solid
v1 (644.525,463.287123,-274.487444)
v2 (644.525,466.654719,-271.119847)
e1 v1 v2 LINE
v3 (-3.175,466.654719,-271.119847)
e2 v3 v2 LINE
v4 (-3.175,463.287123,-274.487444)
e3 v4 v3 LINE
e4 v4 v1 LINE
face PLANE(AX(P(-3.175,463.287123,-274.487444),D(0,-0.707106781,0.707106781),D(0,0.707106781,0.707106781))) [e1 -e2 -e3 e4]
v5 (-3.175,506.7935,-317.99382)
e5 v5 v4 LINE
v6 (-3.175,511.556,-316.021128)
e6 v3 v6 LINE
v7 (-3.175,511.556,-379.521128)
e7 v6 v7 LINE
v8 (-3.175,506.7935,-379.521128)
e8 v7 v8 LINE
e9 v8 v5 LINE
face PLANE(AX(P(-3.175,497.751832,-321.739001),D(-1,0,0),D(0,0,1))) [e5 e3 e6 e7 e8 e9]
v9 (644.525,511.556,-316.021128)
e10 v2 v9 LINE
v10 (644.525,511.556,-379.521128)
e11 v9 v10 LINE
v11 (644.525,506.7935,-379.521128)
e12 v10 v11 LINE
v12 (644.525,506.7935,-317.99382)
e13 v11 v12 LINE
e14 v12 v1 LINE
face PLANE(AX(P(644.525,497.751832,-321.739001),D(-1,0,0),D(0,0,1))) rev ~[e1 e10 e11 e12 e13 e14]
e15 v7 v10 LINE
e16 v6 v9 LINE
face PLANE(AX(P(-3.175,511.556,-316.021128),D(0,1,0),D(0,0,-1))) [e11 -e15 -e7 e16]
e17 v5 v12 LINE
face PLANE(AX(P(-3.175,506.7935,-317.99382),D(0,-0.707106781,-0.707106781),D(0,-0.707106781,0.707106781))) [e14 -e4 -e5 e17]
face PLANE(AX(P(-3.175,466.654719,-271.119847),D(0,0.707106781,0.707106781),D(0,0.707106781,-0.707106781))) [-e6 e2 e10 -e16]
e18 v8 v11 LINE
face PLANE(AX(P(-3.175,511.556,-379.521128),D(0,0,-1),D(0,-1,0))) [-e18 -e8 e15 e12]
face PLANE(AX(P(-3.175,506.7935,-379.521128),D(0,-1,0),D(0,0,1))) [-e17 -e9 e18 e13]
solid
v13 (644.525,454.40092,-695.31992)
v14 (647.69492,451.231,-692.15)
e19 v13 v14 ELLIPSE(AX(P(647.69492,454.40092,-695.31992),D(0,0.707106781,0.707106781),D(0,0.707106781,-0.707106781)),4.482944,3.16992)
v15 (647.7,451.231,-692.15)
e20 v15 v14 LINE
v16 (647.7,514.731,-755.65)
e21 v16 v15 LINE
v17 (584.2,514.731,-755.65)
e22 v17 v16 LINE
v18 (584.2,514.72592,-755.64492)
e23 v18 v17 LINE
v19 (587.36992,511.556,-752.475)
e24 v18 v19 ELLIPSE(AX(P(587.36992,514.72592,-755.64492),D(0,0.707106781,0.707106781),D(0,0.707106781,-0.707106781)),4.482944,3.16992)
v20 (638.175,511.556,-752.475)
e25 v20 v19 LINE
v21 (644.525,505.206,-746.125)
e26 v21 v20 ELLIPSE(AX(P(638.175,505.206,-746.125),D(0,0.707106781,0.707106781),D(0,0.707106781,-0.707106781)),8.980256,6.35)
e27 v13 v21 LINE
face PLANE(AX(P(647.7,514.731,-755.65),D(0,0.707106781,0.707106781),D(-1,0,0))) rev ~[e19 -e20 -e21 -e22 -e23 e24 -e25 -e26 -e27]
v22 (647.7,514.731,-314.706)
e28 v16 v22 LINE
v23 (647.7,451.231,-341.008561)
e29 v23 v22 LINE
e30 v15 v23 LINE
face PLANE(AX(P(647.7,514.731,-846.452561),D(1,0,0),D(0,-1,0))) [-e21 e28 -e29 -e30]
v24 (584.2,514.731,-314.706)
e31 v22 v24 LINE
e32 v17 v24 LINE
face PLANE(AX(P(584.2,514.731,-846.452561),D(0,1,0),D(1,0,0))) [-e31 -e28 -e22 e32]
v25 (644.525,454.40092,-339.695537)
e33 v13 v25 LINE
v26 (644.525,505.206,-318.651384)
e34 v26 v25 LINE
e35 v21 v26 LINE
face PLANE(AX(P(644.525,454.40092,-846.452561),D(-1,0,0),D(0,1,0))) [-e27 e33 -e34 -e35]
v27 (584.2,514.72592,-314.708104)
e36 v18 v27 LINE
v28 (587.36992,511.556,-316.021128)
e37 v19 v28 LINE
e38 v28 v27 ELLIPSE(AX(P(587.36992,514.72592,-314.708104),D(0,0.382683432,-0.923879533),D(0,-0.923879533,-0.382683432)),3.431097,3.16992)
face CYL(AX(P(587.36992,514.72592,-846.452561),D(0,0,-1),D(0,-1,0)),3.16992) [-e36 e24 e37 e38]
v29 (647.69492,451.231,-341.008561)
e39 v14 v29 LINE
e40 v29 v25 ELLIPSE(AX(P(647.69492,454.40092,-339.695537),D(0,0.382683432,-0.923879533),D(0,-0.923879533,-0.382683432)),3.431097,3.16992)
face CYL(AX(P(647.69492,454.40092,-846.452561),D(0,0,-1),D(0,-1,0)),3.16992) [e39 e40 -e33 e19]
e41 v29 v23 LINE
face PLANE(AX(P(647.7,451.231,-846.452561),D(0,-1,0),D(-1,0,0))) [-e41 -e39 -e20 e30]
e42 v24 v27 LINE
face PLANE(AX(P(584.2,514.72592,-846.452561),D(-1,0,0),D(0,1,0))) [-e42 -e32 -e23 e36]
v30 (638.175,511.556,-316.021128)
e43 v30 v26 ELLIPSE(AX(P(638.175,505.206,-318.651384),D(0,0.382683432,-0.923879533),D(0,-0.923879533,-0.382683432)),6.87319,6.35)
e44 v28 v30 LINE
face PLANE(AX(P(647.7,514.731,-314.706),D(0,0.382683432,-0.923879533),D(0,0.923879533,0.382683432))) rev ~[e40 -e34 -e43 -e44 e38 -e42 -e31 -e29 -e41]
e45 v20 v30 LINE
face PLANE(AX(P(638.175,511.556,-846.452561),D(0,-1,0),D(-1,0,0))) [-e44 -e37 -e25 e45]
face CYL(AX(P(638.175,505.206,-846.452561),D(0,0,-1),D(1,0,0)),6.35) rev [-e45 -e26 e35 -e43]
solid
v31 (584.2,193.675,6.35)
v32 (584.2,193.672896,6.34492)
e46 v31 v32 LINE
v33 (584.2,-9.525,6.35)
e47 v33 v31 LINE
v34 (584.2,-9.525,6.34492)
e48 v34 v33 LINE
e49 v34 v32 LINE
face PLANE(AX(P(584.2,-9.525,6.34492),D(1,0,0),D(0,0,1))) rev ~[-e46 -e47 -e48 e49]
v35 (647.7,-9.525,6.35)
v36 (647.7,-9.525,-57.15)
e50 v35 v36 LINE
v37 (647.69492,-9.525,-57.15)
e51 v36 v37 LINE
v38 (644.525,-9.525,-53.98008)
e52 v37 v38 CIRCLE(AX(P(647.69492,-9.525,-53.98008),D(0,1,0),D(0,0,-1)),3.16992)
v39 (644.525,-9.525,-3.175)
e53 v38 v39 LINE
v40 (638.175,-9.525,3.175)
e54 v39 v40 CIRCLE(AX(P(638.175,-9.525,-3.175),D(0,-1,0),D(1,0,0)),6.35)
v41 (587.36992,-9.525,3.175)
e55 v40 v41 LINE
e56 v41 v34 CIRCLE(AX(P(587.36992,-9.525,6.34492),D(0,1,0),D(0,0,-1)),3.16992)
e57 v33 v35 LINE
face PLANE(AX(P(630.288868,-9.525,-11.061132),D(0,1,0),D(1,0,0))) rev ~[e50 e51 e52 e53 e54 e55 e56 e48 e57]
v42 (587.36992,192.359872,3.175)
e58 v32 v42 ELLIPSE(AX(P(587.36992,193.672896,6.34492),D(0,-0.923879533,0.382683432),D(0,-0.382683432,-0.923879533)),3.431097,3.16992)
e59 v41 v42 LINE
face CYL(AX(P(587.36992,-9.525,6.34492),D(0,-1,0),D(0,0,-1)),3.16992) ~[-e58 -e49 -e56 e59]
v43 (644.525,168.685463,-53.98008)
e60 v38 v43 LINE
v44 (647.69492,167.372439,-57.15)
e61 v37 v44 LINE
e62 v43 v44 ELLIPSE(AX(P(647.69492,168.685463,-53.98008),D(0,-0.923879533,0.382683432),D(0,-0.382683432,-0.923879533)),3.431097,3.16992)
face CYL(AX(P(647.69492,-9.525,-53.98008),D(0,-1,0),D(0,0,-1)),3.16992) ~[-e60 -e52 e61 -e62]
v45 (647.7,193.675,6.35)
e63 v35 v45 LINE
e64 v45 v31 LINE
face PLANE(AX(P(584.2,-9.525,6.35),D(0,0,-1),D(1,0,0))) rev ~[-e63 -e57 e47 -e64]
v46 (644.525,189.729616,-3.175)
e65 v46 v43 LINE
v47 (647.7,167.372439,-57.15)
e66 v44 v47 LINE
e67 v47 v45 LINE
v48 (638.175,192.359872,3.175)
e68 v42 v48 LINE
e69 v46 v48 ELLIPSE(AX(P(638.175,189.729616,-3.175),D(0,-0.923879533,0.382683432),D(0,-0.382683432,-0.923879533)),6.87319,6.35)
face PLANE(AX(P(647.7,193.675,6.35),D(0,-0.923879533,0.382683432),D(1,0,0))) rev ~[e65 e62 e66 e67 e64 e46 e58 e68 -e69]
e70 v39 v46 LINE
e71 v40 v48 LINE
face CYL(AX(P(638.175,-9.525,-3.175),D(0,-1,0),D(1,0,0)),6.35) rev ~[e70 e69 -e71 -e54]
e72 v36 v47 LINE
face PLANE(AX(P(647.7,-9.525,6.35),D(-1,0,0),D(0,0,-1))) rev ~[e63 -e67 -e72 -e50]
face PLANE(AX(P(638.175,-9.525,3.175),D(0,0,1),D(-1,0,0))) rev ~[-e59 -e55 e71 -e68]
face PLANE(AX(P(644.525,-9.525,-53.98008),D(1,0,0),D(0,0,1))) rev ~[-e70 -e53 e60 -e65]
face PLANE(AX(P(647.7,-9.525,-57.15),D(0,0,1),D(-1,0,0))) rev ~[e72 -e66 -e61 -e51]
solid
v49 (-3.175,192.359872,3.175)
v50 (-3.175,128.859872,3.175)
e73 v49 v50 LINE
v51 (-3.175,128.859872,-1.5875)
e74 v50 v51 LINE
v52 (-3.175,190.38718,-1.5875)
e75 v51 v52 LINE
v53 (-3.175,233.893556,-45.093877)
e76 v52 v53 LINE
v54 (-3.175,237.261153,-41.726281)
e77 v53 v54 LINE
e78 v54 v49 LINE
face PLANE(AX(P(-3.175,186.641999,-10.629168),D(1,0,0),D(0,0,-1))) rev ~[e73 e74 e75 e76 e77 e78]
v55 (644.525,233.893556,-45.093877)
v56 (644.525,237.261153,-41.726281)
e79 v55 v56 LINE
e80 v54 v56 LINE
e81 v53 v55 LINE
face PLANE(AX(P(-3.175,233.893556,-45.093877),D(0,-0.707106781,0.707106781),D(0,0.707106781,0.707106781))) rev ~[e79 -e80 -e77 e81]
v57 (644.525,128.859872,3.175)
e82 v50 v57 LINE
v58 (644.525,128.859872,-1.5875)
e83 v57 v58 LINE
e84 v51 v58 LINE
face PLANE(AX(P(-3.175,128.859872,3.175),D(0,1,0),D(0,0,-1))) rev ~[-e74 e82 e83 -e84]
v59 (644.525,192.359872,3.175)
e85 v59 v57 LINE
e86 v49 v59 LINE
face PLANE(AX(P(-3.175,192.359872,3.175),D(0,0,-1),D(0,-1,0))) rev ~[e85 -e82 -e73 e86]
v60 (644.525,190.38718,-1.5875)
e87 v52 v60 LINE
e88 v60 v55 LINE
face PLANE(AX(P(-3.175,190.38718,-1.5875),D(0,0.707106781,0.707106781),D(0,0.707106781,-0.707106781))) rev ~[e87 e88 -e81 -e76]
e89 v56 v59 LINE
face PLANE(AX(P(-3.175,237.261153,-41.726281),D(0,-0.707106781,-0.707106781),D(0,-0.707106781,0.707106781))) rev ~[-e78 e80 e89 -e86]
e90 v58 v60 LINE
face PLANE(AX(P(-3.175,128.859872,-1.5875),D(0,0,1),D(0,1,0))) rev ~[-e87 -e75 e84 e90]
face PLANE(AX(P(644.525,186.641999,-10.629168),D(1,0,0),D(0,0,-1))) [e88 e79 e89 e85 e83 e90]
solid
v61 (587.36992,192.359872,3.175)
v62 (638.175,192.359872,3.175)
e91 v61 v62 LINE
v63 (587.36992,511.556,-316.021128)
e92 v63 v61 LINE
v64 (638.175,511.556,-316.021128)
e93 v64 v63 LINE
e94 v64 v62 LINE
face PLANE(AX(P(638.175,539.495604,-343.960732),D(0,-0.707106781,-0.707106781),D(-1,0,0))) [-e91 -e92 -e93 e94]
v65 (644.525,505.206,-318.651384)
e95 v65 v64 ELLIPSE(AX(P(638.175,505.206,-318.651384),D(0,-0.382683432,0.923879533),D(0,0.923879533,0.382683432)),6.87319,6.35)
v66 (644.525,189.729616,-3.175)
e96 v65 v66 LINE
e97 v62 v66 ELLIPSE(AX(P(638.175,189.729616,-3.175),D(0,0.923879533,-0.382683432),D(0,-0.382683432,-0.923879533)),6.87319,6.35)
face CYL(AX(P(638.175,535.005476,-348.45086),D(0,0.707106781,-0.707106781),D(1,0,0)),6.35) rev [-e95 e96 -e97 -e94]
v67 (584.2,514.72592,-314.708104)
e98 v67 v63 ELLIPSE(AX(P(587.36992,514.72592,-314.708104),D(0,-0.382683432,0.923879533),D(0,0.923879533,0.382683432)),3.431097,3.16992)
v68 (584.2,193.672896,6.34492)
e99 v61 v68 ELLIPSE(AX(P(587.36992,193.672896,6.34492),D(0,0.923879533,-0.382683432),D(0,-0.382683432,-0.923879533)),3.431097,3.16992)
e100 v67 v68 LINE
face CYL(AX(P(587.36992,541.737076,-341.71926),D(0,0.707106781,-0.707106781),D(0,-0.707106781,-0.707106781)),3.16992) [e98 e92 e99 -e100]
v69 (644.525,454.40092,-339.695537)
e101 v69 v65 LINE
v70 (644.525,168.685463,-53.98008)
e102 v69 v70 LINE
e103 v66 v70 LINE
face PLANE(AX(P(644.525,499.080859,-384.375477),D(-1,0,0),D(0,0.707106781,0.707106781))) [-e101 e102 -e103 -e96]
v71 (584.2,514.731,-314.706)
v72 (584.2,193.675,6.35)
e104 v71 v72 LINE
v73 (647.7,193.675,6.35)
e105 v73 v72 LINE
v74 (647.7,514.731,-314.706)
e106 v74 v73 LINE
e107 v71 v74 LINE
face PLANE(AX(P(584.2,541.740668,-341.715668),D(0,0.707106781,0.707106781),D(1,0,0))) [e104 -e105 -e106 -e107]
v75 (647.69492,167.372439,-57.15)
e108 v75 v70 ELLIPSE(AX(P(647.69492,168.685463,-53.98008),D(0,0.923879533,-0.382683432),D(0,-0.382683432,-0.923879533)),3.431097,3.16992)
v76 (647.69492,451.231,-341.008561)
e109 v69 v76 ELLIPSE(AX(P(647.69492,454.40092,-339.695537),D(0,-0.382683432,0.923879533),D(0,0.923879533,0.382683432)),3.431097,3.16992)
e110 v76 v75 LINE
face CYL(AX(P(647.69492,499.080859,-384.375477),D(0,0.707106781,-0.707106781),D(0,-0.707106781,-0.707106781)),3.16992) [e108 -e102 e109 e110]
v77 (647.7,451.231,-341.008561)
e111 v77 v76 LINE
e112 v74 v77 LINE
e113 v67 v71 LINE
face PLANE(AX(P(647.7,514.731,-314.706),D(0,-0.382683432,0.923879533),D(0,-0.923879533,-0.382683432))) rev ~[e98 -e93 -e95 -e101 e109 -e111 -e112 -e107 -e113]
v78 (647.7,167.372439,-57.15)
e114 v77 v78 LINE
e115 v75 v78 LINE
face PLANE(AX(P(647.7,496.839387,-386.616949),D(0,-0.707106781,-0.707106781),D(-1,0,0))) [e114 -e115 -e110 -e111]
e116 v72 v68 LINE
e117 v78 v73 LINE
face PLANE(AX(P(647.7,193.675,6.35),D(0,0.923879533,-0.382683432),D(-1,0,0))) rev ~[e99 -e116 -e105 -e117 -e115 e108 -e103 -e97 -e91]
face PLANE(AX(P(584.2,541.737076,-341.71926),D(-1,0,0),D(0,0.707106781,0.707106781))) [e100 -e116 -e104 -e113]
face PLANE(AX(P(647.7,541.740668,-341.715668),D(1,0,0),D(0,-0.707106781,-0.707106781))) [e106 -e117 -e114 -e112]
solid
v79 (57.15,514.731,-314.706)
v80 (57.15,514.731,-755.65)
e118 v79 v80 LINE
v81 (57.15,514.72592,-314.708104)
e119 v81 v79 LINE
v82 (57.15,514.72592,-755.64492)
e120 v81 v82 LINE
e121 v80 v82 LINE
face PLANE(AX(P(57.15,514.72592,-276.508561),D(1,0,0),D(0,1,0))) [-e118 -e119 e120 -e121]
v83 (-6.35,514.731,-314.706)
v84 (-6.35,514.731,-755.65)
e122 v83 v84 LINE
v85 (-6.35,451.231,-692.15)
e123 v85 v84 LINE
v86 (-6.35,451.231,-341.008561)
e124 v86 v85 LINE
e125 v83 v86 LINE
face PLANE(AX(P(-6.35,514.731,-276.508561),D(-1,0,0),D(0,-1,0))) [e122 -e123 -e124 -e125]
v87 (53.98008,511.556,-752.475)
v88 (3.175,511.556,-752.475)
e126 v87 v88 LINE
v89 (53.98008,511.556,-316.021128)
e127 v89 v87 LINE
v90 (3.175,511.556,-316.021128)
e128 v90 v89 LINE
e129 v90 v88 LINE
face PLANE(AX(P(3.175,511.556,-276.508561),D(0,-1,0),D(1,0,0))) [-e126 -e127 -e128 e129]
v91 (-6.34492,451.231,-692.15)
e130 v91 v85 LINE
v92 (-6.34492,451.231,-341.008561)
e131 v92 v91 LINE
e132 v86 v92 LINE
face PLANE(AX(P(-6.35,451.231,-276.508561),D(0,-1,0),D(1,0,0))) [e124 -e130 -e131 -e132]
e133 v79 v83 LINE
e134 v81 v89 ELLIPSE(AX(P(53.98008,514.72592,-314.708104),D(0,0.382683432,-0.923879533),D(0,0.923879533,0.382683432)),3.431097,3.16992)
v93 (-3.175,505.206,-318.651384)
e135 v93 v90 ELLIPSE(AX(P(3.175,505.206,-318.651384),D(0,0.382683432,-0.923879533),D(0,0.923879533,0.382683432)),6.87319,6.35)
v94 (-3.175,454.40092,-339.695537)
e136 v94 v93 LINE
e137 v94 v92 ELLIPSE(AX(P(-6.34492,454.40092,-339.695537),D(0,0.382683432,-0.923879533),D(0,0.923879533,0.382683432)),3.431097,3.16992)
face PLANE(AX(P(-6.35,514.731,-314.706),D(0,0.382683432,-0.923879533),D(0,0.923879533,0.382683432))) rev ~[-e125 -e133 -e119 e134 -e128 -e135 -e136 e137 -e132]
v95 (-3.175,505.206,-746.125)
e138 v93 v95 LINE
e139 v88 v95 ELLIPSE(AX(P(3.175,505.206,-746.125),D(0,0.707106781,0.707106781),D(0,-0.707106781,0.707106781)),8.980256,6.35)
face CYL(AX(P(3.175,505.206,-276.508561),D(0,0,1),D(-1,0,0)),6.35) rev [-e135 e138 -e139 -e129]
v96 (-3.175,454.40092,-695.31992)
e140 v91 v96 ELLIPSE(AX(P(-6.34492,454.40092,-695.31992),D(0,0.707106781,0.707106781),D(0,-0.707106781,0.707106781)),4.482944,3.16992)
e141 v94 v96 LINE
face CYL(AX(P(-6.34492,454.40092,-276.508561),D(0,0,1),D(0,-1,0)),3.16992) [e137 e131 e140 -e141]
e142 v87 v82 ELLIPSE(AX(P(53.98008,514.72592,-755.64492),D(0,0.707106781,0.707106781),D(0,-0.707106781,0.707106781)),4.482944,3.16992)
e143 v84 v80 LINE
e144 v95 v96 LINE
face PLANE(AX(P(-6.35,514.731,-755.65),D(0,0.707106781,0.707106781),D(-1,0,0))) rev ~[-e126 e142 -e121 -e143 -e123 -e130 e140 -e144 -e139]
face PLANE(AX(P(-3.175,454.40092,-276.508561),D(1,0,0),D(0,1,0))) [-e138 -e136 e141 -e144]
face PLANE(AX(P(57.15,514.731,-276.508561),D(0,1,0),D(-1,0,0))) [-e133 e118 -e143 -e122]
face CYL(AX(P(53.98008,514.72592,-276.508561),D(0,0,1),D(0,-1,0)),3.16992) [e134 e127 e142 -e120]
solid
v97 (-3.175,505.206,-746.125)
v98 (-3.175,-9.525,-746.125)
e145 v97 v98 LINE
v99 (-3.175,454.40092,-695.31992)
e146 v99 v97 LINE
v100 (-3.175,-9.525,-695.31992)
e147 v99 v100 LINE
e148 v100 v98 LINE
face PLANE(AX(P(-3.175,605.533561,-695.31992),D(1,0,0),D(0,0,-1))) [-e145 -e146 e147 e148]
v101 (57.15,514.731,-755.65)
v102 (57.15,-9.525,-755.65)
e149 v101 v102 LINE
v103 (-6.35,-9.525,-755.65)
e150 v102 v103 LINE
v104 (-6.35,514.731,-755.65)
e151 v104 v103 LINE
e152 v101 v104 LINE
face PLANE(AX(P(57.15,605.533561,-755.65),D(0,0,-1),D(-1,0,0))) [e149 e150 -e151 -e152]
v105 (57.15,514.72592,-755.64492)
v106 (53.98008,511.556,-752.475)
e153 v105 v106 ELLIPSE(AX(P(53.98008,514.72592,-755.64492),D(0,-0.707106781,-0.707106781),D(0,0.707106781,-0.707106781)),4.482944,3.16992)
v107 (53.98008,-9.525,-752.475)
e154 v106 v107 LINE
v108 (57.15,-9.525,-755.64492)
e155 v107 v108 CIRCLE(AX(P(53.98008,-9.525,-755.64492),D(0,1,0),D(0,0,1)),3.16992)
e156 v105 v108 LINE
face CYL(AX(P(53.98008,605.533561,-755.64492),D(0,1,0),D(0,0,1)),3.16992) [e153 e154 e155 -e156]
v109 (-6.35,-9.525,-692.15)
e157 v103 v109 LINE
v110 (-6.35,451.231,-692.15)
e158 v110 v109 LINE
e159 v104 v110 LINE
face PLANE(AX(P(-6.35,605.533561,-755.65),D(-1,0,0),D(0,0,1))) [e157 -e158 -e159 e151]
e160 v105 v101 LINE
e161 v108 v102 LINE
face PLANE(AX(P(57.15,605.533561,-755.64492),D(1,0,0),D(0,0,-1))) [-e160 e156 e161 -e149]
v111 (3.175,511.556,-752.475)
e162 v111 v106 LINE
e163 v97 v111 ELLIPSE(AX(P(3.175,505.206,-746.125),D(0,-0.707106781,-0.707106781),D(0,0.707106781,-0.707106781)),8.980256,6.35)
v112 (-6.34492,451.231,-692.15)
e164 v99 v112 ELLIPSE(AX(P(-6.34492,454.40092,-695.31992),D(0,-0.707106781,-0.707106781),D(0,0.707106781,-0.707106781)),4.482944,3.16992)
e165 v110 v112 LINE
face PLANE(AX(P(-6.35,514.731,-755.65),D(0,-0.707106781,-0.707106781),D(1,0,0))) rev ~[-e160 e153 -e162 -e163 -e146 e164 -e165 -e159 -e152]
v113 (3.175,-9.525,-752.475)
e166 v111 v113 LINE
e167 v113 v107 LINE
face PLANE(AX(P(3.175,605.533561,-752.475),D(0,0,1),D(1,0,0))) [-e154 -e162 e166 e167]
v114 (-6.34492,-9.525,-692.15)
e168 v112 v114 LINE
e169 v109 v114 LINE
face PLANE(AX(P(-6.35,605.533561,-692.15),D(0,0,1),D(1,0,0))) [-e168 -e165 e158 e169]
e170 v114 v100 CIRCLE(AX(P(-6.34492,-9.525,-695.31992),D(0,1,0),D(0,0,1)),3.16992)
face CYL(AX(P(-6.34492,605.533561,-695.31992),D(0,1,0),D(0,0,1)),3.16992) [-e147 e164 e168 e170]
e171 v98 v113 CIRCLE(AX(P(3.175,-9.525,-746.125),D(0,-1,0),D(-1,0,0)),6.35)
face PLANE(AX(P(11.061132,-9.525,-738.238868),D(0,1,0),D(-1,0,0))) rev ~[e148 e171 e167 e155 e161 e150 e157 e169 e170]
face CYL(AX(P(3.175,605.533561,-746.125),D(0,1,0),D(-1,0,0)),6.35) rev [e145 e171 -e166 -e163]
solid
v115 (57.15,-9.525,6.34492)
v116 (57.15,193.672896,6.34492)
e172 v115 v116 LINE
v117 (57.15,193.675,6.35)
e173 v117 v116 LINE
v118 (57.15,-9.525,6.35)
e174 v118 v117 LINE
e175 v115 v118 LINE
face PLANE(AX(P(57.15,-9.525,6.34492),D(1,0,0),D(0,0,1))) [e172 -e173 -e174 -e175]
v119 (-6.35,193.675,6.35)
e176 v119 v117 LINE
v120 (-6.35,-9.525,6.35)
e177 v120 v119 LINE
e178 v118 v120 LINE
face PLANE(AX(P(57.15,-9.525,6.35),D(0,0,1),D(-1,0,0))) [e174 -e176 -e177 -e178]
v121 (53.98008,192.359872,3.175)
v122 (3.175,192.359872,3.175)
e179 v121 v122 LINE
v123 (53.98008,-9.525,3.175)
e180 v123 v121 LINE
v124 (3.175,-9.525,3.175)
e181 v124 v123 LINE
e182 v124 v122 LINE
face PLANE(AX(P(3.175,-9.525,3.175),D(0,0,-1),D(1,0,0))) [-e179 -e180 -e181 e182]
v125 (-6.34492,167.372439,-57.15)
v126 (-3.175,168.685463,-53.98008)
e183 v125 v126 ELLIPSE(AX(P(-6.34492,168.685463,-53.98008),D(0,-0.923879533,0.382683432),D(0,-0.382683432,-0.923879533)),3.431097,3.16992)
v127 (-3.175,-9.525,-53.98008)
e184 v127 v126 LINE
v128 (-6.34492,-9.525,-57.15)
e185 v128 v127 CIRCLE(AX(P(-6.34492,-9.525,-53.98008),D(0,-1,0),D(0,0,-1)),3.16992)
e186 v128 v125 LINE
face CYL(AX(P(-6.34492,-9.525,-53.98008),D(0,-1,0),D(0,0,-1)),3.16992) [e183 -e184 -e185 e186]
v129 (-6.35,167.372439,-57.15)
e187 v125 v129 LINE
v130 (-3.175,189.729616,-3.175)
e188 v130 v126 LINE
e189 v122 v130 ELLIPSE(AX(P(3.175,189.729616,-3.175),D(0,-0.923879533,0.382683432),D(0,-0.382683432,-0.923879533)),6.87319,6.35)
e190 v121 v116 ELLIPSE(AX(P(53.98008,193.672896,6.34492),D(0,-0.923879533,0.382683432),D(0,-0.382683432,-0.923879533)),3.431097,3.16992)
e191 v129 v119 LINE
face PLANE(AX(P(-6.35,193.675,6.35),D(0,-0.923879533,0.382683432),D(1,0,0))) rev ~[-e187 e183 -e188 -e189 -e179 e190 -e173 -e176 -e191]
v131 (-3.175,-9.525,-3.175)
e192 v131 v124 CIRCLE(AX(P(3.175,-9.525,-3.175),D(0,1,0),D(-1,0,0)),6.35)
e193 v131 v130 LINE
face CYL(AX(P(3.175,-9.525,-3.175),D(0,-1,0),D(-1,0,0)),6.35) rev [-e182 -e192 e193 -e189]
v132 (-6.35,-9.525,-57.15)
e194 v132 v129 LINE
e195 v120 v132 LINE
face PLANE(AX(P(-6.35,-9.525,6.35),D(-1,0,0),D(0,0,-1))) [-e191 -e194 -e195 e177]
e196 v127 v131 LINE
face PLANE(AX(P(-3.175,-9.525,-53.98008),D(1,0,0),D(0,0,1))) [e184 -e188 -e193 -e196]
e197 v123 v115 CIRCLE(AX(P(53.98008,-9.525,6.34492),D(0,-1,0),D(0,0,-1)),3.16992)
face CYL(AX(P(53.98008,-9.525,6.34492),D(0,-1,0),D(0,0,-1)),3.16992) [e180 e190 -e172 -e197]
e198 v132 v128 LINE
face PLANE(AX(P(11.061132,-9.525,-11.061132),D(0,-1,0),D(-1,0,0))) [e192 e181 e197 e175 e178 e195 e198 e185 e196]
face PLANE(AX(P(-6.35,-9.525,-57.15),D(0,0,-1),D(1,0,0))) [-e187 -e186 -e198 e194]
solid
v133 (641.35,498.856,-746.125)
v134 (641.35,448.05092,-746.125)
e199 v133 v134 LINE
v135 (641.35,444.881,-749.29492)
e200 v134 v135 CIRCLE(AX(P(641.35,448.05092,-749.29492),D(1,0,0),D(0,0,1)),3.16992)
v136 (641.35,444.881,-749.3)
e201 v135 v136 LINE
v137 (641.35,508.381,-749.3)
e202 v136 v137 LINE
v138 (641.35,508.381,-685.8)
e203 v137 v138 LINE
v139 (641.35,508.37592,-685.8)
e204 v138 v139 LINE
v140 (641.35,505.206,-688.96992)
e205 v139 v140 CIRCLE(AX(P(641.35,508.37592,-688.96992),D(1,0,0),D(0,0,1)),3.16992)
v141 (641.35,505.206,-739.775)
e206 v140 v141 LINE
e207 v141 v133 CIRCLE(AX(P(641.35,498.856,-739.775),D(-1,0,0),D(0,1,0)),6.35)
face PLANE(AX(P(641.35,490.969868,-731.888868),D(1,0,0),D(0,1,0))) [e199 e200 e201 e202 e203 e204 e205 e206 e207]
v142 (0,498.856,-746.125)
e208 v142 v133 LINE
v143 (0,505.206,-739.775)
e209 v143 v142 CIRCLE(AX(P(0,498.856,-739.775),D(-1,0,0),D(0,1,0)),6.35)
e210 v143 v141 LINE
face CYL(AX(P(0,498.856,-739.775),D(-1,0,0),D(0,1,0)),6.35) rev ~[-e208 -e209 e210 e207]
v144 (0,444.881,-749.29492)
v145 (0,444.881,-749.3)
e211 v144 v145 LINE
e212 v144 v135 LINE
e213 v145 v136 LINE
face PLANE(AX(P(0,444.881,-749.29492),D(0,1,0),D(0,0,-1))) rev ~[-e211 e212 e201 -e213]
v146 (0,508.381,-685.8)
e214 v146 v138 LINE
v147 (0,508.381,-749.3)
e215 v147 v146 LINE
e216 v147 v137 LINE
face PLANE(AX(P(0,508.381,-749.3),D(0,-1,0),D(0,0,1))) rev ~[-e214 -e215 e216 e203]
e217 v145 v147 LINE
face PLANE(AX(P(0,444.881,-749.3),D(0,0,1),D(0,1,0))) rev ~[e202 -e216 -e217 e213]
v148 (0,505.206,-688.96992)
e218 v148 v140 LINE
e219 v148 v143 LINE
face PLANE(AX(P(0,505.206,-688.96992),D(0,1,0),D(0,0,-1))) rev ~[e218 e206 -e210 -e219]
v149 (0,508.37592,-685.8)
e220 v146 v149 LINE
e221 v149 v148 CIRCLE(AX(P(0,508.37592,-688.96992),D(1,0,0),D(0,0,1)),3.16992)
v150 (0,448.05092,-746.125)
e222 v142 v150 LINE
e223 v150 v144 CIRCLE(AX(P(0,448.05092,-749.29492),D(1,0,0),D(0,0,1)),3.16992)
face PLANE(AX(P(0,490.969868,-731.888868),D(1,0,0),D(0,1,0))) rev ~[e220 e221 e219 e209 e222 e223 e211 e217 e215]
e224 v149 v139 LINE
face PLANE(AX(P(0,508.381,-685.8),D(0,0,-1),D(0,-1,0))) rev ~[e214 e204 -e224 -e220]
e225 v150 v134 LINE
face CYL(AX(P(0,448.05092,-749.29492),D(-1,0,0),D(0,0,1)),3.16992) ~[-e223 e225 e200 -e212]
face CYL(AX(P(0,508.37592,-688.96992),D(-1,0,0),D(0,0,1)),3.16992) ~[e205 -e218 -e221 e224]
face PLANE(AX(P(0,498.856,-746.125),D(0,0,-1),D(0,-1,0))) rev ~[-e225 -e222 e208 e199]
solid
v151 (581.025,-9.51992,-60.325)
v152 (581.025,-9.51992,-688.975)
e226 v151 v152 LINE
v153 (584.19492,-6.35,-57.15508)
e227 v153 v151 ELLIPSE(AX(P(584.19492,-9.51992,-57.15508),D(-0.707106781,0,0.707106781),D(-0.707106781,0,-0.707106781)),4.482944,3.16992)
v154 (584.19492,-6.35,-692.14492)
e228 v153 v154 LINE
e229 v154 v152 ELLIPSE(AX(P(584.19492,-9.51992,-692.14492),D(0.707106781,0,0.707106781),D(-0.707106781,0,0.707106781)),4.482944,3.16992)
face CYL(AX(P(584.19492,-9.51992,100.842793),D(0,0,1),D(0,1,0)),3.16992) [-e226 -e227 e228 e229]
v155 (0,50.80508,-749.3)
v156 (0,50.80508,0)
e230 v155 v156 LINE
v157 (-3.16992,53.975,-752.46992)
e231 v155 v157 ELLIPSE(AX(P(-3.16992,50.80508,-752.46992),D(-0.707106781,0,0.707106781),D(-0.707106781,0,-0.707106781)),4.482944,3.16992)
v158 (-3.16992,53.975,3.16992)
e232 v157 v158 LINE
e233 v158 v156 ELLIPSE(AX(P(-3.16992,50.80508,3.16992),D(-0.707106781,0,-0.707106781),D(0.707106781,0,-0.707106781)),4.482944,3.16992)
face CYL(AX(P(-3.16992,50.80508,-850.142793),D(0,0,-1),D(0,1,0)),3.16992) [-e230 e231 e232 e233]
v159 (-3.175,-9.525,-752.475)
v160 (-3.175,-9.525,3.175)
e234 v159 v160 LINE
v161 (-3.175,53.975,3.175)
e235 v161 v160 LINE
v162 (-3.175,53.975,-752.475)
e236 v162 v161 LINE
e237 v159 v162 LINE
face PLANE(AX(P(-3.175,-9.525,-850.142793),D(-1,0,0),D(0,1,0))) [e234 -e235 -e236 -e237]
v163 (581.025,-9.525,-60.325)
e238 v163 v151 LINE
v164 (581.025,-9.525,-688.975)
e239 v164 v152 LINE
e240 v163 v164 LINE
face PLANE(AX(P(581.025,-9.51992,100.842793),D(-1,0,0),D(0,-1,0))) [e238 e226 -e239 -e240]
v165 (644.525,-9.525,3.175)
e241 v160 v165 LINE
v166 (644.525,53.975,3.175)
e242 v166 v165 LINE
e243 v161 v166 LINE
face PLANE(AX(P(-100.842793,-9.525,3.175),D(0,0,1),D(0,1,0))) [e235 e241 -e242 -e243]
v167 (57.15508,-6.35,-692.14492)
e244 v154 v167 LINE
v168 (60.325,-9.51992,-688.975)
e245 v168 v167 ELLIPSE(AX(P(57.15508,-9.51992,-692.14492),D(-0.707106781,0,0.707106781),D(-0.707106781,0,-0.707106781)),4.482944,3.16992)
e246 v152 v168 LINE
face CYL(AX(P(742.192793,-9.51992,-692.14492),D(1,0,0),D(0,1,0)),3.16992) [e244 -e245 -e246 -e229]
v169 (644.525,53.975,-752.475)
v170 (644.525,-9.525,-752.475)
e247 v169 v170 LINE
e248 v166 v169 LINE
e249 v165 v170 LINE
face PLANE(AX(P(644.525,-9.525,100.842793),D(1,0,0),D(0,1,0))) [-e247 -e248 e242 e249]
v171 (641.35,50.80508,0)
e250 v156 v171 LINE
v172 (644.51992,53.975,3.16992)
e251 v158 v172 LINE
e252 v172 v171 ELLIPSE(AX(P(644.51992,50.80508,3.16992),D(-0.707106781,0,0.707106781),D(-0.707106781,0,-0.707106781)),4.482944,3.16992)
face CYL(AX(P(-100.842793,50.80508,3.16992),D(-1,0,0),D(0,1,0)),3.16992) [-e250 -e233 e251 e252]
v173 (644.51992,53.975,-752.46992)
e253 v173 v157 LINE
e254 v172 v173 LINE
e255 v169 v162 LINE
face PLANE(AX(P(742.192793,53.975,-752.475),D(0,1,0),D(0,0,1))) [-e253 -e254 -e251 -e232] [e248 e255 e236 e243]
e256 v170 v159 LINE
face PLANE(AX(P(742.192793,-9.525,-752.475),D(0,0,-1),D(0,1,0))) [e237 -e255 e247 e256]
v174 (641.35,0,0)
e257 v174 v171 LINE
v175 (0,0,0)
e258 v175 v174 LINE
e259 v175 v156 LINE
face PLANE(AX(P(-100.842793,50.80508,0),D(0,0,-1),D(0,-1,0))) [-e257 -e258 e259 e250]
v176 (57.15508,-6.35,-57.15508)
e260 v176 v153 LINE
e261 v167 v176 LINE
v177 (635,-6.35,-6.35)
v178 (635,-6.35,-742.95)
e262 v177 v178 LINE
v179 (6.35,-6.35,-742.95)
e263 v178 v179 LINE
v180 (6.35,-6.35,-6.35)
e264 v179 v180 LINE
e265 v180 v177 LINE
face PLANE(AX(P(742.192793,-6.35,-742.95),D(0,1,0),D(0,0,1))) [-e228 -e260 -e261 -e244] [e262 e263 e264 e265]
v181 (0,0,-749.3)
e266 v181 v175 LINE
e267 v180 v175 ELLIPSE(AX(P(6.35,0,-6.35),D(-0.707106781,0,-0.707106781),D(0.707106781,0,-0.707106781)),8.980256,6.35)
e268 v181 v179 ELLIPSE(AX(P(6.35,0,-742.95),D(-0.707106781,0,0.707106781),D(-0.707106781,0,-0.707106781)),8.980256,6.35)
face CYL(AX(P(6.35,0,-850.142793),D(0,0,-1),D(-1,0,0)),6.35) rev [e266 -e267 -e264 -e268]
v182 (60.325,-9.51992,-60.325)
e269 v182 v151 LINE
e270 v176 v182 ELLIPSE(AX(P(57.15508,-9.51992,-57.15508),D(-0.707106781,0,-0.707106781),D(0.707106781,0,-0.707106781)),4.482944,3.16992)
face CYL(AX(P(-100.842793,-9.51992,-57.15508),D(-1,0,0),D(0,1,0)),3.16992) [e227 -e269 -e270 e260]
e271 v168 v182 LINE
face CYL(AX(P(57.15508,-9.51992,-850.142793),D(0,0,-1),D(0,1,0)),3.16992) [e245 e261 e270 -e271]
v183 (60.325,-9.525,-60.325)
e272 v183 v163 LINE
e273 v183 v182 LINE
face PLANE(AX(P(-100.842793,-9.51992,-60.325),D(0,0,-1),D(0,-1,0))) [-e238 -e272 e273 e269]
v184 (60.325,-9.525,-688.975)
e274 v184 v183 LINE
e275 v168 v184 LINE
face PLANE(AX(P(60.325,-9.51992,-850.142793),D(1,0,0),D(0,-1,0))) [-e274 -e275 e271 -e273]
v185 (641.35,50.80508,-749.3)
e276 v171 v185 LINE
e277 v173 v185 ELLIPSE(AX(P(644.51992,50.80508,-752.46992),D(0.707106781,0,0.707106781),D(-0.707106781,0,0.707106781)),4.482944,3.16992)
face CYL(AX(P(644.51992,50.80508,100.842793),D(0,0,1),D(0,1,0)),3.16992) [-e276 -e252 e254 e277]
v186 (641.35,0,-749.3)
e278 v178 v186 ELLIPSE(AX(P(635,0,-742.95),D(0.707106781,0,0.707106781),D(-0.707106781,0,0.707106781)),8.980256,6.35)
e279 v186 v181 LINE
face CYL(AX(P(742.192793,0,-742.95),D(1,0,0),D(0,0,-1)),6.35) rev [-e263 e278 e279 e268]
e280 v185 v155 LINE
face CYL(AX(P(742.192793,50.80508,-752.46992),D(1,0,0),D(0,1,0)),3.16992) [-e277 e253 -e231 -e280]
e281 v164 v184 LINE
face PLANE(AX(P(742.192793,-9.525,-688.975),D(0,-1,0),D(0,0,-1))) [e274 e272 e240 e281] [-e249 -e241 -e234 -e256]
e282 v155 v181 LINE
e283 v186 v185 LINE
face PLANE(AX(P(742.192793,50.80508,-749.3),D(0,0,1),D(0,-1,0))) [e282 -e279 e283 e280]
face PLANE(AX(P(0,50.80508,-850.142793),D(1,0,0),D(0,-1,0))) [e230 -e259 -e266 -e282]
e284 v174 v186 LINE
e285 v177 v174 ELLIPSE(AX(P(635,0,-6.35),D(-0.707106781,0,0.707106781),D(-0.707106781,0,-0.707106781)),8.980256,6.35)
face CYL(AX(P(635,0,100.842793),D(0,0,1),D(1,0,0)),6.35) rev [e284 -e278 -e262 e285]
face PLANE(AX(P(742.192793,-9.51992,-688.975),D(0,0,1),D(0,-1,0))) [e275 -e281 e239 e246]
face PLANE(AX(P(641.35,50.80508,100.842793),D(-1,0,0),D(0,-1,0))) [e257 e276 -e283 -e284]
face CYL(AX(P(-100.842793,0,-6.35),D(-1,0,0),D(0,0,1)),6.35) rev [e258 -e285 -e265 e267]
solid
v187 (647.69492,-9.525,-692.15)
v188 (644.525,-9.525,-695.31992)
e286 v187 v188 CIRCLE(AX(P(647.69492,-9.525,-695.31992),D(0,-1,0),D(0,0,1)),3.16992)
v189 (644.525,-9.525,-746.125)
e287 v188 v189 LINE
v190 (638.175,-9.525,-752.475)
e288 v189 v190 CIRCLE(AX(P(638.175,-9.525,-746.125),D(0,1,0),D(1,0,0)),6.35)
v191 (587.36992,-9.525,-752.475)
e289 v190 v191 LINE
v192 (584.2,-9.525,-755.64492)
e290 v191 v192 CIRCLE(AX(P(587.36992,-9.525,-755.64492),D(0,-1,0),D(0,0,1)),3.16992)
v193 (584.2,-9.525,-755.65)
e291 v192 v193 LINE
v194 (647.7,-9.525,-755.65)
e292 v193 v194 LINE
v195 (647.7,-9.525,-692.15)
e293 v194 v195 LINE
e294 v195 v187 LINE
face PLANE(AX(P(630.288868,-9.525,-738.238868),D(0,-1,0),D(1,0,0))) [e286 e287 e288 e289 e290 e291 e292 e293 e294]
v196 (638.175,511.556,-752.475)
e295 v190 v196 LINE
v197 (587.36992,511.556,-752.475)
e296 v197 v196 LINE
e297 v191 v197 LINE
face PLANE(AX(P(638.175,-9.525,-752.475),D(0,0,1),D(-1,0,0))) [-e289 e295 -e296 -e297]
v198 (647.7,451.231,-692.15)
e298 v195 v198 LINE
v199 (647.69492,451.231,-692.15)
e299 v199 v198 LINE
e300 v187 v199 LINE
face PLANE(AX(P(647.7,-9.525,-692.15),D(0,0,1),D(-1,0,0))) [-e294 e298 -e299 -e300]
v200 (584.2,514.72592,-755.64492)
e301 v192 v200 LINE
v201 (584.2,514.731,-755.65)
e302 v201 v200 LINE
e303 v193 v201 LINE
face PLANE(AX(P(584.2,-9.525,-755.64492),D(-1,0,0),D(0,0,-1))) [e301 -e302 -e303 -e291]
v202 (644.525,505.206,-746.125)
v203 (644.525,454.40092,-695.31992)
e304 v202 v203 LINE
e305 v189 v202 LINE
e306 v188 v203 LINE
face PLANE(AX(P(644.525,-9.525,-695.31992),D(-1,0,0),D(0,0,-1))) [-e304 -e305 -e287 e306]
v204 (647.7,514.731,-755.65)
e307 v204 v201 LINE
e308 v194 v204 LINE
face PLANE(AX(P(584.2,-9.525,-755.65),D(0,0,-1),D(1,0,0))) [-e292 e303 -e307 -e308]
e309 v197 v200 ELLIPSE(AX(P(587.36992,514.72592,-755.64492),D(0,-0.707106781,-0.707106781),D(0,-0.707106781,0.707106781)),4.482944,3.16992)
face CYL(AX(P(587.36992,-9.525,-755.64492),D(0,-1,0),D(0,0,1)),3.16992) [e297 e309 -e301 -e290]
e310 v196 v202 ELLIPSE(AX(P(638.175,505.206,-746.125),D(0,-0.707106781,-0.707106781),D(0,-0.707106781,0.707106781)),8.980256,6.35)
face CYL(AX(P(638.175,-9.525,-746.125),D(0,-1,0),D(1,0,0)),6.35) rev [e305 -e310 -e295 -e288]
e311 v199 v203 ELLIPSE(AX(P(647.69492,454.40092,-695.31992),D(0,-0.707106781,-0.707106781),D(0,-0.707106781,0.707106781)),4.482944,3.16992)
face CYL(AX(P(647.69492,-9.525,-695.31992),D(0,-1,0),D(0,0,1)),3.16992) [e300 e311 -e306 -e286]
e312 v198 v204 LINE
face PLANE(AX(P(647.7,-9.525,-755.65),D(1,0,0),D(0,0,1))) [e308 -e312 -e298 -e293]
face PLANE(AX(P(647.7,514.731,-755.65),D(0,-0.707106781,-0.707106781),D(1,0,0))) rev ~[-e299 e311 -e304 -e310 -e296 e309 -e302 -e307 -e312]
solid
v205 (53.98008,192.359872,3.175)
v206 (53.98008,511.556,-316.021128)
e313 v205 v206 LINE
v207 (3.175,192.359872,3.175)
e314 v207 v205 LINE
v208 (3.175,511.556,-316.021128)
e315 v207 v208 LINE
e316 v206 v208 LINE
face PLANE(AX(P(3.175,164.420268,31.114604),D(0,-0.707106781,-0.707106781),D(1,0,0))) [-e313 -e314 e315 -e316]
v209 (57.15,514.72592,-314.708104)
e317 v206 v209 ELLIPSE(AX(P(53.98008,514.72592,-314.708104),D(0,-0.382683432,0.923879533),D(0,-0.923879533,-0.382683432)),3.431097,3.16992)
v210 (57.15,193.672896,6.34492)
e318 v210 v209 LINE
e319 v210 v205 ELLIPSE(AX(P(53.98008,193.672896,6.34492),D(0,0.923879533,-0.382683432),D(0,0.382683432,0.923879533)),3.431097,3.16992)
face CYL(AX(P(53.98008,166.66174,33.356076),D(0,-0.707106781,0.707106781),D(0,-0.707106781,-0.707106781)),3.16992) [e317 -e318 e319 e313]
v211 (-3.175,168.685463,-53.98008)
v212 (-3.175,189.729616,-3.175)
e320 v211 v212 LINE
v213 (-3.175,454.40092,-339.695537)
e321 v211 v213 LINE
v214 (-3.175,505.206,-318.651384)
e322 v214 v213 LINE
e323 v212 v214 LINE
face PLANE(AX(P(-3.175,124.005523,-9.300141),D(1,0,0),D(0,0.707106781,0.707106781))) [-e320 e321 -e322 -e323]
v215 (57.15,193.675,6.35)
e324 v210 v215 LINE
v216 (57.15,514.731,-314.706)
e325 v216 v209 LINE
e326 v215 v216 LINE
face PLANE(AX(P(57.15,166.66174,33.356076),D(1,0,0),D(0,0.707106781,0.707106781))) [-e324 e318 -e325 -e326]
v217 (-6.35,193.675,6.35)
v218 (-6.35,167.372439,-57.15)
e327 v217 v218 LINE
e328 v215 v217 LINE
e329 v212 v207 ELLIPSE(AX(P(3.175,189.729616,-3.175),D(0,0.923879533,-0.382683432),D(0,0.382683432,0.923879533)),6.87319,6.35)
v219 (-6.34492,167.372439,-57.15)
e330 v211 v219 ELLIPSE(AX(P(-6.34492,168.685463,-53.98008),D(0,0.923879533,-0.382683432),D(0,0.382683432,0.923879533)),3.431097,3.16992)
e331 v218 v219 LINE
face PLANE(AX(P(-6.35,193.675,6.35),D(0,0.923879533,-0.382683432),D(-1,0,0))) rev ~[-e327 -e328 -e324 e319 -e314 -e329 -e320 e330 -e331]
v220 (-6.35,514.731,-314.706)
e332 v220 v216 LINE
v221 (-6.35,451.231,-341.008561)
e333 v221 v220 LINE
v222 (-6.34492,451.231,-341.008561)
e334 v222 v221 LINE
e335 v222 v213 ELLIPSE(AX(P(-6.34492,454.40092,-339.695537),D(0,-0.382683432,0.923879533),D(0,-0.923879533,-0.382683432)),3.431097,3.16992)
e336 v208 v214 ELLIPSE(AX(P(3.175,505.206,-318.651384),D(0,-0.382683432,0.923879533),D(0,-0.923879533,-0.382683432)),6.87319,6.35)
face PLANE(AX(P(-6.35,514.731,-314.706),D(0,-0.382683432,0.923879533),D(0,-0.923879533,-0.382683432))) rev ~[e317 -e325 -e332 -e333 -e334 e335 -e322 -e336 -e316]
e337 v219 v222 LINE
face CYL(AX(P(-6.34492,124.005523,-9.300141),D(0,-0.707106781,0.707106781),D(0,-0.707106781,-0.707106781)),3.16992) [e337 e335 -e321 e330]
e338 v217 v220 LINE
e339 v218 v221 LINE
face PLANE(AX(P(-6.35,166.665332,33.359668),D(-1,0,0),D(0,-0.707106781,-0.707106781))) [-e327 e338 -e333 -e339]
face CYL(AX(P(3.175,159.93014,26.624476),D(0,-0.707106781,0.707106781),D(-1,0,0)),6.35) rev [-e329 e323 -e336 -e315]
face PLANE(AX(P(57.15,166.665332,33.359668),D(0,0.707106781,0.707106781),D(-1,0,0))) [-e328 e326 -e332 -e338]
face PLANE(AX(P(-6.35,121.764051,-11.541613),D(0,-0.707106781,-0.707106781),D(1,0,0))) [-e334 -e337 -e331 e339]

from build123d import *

# Parameters (mm, degrees)
NGULO_DE_EXTREMOS_REDONDEADOS_AL_I_AL_L_DEPTH      = 850.142792782
NGULO_DE_EXTREMOS_REDONDEADOS_AL_I_AL_L_DEPTH_BACK = 100.842792782
NGULO_DE_EXTREMOS_REDONDEADOS_AL_I_A_4_DEPTH       = 843.035585563
NGULO_DE_EXTREMOS_REDONDEADOS_AL_I_A_6_DEPTH       = 950.985585563
NGULO_DE_EXTREMOS_REDONDEADOS_AL_I_A_8_DEPTH       = 843.035585563
NGULO_DE_EXTREMOS_REDONDEADOS_AL_I_A_11_DEPTH      = 241.397438789
NGULO_DE_EXTREMOS_REDONDEADOS_AL_I_A_13_DEPTH      = 530.43662706
NGULO_DE_EXTREMOS_REDONDEADOS_AL_I_A_16_DEPTH      = 569.944
NGULO_DE_EXTREMOS_REDONDEADOS_AL_I_A_19_DEPTH      = 615.058561211
NGULO_DE_EXTREMOS_REDONDEADOS_AL_I_A_21_DEPTH      = 241.397438789
NGULO_DE_EXTREMOS_REDONDEADOS_AL_I_A_23_DEPTH      = 530.43662706
NGULO_DE_EXTREMOS_REDONDEADOS_AL_I_A_26_DEPTH      = 569.944
NGULO_DE_EXTREMOS_REDONDEADOS_AL_I_A_29_DEPTH      = 615.058561211
SALIENTE_EXTRUIR1_DEPTH                            = 647.7
SALIENTE_EXTRUIR1_2_DEPTH                          = 647.7
NGULO_DE_EXTREMOS_REDONDEADOS_AL_I_A_31_DEPTH      = 641.35


with BuildPart() as part:
    # Sketch1 → ngulo de extremos redondeados al i AL L (new, two sides: drawn at the far end of the back side and taken through both)
    with BuildSketch(Plane(origin=(-3.175, -9.525, -749.3), x_dir=(1, 0, 0), z_dir=(0, 0, 1)).offset(-NGULO_DE_EXTREMOS_REDONDEADOS_AL_I_AL_L_DEPTH_BACK)):
        with BuildLine():
            Line((0, 0), (0, 63.5))
            Line((0, 63.5), (0.00508, 63.5))
            ThreePointArc((0.00508, 63.5), (2.246551928, 62.571551928), (3.175, 60.33008))
            Line((3.175, 60.33008), (3.175, 9.525))
            ThreePointArc((3.175, 9.525), (5.034871939, 5.034871939), (9.525, 3.175))
            Line((9.525, 3.175), (60.33008, 3.175))
            ThreePointArc((60.33008, 3.175), (62.571551928, 2.246551928), (63.5, 0.00508))
            Line((63.5, 0.00508), (63.5, 0))
            Line((63.5, 0), (0, 0))
        make_face()
    extrude(amount=NGULO_DE_EXTREMOS_REDONDEADOS_AL_I_AL_L_DEPTH + NGULO_DE_EXTREMOS_REDONDEADOS_AL_I_AL_L_DEPTH_BACK)

    # ngulo de extremos redondeados al i A 2
    split(bisect_by=Plane(origin=(0, 0, -749.3), x_dir=(0, -1, 0), z_dir=(-0.707106781, 0, 0.707106781)), keep=Keep.TOP)

    # ngulo de extremos redondeados al i A 3
    split(bisect_by=Plane(origin=(0, 0, 0), x_dir=(0, -1, 0), z_dir=(-0.707106781, 0, -0.707106781)), keep=Keep.TOP)


with BuildPart() as body_2:
    # Sketch1 on segment 2 (carried to segment 2) → ngulo de extremos redondeados al i A 4 (new body)
    with BuildSketch(Plane(origin=(-100.842792782, -9.525, 3.175), x_dir=(0, 0, -1), z_dir=(1, 0, 0))):
        with BuildLine():
            Line((0, 0), (0, 63.5))
            Line((0, 63.5), (0.00508, 63.5))
            ThreePointArc((0.00508, 63.5), (2.246551928, 62.571551928), (3.175, 60.33008))
            Line((3.175, 60.33008), (3.175, 9.525))
            ThreePointArc((3.175, 9.525), (5.034871939, 5.034871939), (9.525, 3.175))
            Line((9.525, 3.175), (60.33008, 3.175))
            ThreePointArc((60.33008, 3.175), (62.571551928, 2.246551928), (63.5, 0.00508))
            Line((63.5, 0.00508), (63.5, 0))
            Line((63.5, 0), (0, 0))
        make_face()
    extrude(amount=NGULO_DE_EXTREMOS_REDONDEADOS_AL_I_A_4_DEPTH)

    # ngulo de extremos redondeados al i A 4 m
    split(bisect_by=Plane(origin=(641.35, 0, 0), x_dir=(0, -1, 0), z_dir=(-0.707106781, 0, 0.707106781)), keep=Keep.TOP)

    # ngulo de extremos redondeados al i A 5
    split(bisect_by=Plane(origin=(0, 0, 0), x_dir=(0, 1, 0), z_dir=(0.707106781, 0, 0.707106781)), keep=Keep.TOP)


with BuildPart() as body_3:
    # Sketch1 on segment 3 (carried to segment 3) → ngulo de extremos redondeados al i A 6 (new body)
    with BuildSketch(Plane(origin=(644.525, -9.525, 100.842792782), x_dir=(-1, 0, 0), z_dir=(0, 0, -1))):
        with BuildLine():
            Line((0, 0), (0, 63.5))
            Line((0, 63.5), (0.00508, 63.5))
            ThreePointArc((0.00508, 63.5), (2.246551928, 62.571551928), (3.175, 60.33008))
            Line((3.175, 60.33008), (3.175, 9.525))
            ThreePointArc((3.175, 9.525), (5.034871939, 5.034871939), (9.525, 3.175))
            Line((9.525, 3.175), (60.33008, 3.175))
            ThreePointArc((60.33008, 3.175), (62.571551928, 2.246551928), (63.5, 0.00508))
            Line((63.5, 0.00508), (63.5, 0))
            Line((63.5, 0), (0, 0))
        make_face()
    extrude(amount=NGULO_DE_EXTREMOS_REDONDEADOS_AL_I_A_6_DEPTH)

    # ngulo de extremos redondeados al i A 6 m
    split(bisect_by=Plane(origin=(641.35, 0, 0), x_dir=(0, 1, 0), z_dir=(0.707106781, 0, -0.707106781)), keep=Keep.TOP)

    # ngulo de extremos redondeados al i A 7
    split(bisect_by=Plane(origin=(641.35, 0, -749.3), x_dir=(0, 1, 0), z_dir=(0.707106781, 0, 0.707106781)), keep=Keep.TOP)


with BuildPart() as body_4:
    # Sketch1 on segment 4 (carried to segment 4) → ngulo de extremos redondeados al i A 8 (new body)
    with BuildSketch(Plane(origin=(742.192792782, -9.525, -752.475), x_dir=(0, 0, 1), z_dir=(-1, 0, 0))):
        with BuildLine():
            Line((0, 0), (0, 63.5))
            Line((0, 63.5), (0.00508, 63.5))
            ThreePointArc((0.00508, 63.5), (2.246551928, 62.571551928), (3.175, 60.33008))
            Line((3.175, 60.33008), (3.175, 9.525))
            ThreePointArc((3.175, 9.525), (5.034871939, 5.034871939), (9.525, 3.175))
            Line((9.525, 3.175), (60.33008, 3.175))
            ThreePointArc((60.33008, 3.175), (62.571551928, 2.246551928), (63.5, 0.00508))
            Line((63.5, 0.00508), (63.5, 0))
            Line((63.5, 0), (0, 0))
        make_face()
    extrude(amount=NGULO_DE_EXTREMOS_REDONDEADOS_AL_I_A_8_DEPTH)

    # ngulo de extremos redondeados al i A 8 m
    split(bisect_by=Plane(origin=(641.35, 0, -749.3), x_dir=(0, -1, 0), z_dir=(-0.707106781, 0, -0.707106781)), keep=Keep.TOP)

    # ngulo de extremos redondeados al i A 9
    split(bisect_by=Plane(origin=(0, 0, -749.3), x_dir=(0, 1, 0), z_dir=(0.707106781, 0, -0.707106781)), keep=Keep.TOP)


with BuildPart() as part_1:
    add(part.part)

    # ngulo de extremos redondeados al i A 10: union body 2, body 3, body 4
    add(body_2.part)
    add(body_3.part)
    add(body_4.part)


with BuildPart() as body_2_2:
    # Sketch12 → ngulo de extremos redondeados al i A 11 (new body)
    with BuildSketch(Plane(origin=(647.7, -9.525, 6.35), x_dir=(-1, 0, 0), z_dir=(0, -1, 0))):
        with BuildLine():
            Line((0, 0), (0, 63.5))
            Line((0, 63.5), (0.00508, 63.5))
            ThreePointArc((0.00508, 63.5), (2.246551928, 62.571551928), (3.175, 60.33008))
            Line((3.175, 60.33008), (3.175, 9.525))
            ThreePointArc((3.175, 9.525), (5.034871939, 5.034871939), (9.525, 3.175))
            Line((9.525, 3.175), (60.33008, 3.175))
            ThreePointArc((60.33008, 3.175), (62.571551928, 2.246551928), (63.5, 0.00508))
            Line((63.5, 0.00508), (63.5, 0))
            Line((63.5, 0), (0, 0))
        make_face()
    extrude(amount=-NGULO_DE_EXTREMOS_REDONDEADOS_AL_I_A_11_DEPTH)

    # ngulo de extremos redondeados al i A 12
    split(bisect_by=Plane(origin=(647.7, 193.675, 6.35), x_dir=(1, 0, 0), z_dir=(0, -0.923879533, 0.382683432)), keep=Keep.TOP)


with BuildPart() as body_3_2:
    # Sketch12 on segment 2 (carried to segment 2) → ngulo de extremos redondeados al i A 13 (new body)
    with BuildSketch(Plane(origin=(647.7, 541.740667992, -341.715667992), x_dir=(-1, 0, 0), z_dir=(0, -0.707106781, 0.707106781))):
        with BuildLine():
            Line((0, 0), (0, 63.5))
            Line((0, 63.5), (0.00508, 63.5))
            ThreePointArc((0.00508, 63.5), (2.246551928, 62.571551928), (3.175, 60.33008))
            Line((3.175, 60.33008), (3.175, 9.525))
            ThreePointArc((3.175, 9.525), (5.034871939, 5.034871939), (9.525, 3.175))
            Line((9.525, 3.175), (60.33008, 3.175))
            ThreePointArc((60.33008, 3.175), (62.571551928, 2.246551928), (63.5, 0.00508))
            Line((63.5, 0.00508), (63.5, 0))
            Line((63.5, 0), (0, 0))
        make_face()
    extrude(amount=NGULO_DE_EXTREMOS_REDONDEADOS_AL_I_A_13_DEPTH)

    # ngulo de extremos redondeados al i A 14
    split(bisect_by=Plane(origin=(647.7, 193.675, 6.35), x_dir=(-1, 0, 0), z_dir=(0, 0.923879533, -0.382683432)), keep=Keep.TOP)

    # ngulo de extremos redondeados al i A 15
    split(bisect_by=Plane(origin=(647.7, 514.731, -314.706), x_dir=(0, -0.923879533, -0.382683432), z_dir=(0, -0.382683432, 0.923879533)), keep=Keep.TOP)


with BuildPart() as body_4_2:
    # Sketch12 on segment 3 (carried to segment 3) → ngulo de extremos redondeados al i A 16 (new body)
    with BuildSketch(Plane(origin=(647.7, 514.731, -846.452561211), x_dir=(-1, 0, 0), z_dir=(0, 0, 1))):
        with BuildLine():
            Line((0, 0), (0, 63.5))
            Line((0, 63.5), (0.00508, 63.5))
            ThreePointArc((0.00508, 63.5), (2.246551928, 62.571551928), (3.175, 60.33008))
            Line((3.175, 60.33008), (3.175, 9.525))
            ThreePointArc((3.175, 9.525), (5.034871939, 5.034871939), (9.525, 3.175))
            Line((9.525, 3.175), (60.33008, 3.175))
            ThreePointArc((60.33008, 3.175), (62.571551928, 2.246551928), (63.5, 0.00508))
            Line((63.5, 0.00508), (63.5, 0))
            Line((63.5, 0), (0, 0))
        make_face()
    extrude(amount=NGULO_DE_EXTREMOS_REDONDEADOS_AL_I_A_16_DEPTH)

    # ngulo de extremos redondeados al i A 17
    split(bisect_by=Plane(origin=(647.7, 514.731, -314.706), x_dir=(0, 0.923879533, 0.382683432), z_dir=(0, 0.382683432, -0.923879533)), keep=Keep.TOP)

    # ngulo de extremos redondeados al i A 18
    split(bisect_by=Plane(origin=(647.7, 514.731, -755.65), x_dir=(-1, 0, 0), z_dir=(0, 0.707106781, 0.707106781)), keep=Keep.TOP)


with BuildPart() as body_5:
    # Sketch12 on segment 4 (carried to segment 4) → ngulo de extremos redondeados al i A 19 (new body)
    with BuildSketch(Plane(origin=(647.7, -9.525, -755.65), x_dir=(-1, 0, 0), z_dir=(0, 1, 0))):
        with BuildLine():
            Line((0, 0), (0, 63.5))
            Line((0, 63.5), (0.00508, 63.5))
            ThreePointArc((0.00508, 63.5), (2.246551928, 62.571551928), (3.175, 60.33008))
            Line((3.175, 60.33008), (3.175, 9.525))
            ThreePointArc((3.175, 9.525), (5.034871939, 5.034871939), (9.525, 3.175))
            Line((9.525, 3.175), (60.33008, 3.175))
            ThreePointArc((60.33008, 3.175), (62.571551928, 2.246551928), (63.5, 0.00508))
            Line((63.5, 0.00508), (63.5, 0))
            Line((63.5, 0), (0, 0))
        make_face()
    extrude(amount=NGULO_DE_EXTREMOS_REDONDEADOS_AL_I_A_19_DEPTH)

    # ngulo de extremos redondeados al i A 20
    split(bisect_by=Plane(origin=(647.7, 514.731, -755.65), x_dir=(1, 0, 0), z_dir=(0, -0.707106781, -0.707106781)), keep=Keep.TOP)


with BuildPart() as body_6:
    # Sketch17 → ngulo de extremos redondeados al i A 21 (new body)
    with BuildSketch(Plane(origin=(-6.35, -9.525, 6.35), x_dir=(1, 0, 0), z_dir=(0, 1, 0))):
        with BuildLine():
            Line((0, 0), (0, 63.5))
            Line((0, 63.5), (0.00508, 63.5))
            ThreePointArc((0.00508, 63.5), (2.246551928, 62.571551928), (3.175, 60.33008))
            Line((3.175, 60.33008), (3.175, 9.525))
            ThreePointArc((3.175, 9.525), (5.034871939, 5.034871939), (9.525, 3.175))
            Line((9.525, 3.175), (60.33008, 3.175))
            ThreePointArc((60.33008, 3.175), (62.571551928, 2.246551928), (63.5, 0.00508))
            Line((63.5, 0.00508), (63.5, 0))
            Line((63.5, 0), (0, 0))
        make_face()
    extrude(amount=NGULO_DE_EXTREMOS_REDONDEADOS_AL_I_A_21_DEPTH)

    # ngulo de extremos redondeados al i A 22
    split(bisect_by=Plane(origin=(-6.35, 193.675, 6.35), x_dir=(1, 0, 0), z_dir=(0, -0.923879533, 0.382683432)), keep=Keep.TOP)


with BuildPart() as body_7:
    # Sketch17 on segment 2 (carried to segment 2) → ngulo de extremos redondeados al i A 23 (new body)
    with BuildSketch(Plane(origin=(-6.35, 166.665332008, 33.359667992), x_dir=(1, 0, 0), z_dir=(0, 0.707106781, -0.707106781))):
        with BuildLine():
            Line((0, 0), (0, 63.5))
            Line((0, 63.5), (0.00508, 63.5))
            ThreePointArc((0.00508, 63.5), (2.246551928, 62.571551928), (3.175, 60.33008))
            Line((3.175, 60.33008), (3.175, 9.525))
            ThreePointArc((3.175, 9.525), (5.034871939, 5.034871939), (9.525, 3.175))
            Line((9.525, 3.175), (60.33008, 3.175))
            ThreePointArc((60.33008, 3.175), (62.571551928, 2.246551928), (63.5, 0.00508))
            Line((63.5, 0.00508), (63.5, 0))
            Line((63.5, 0), (0, 0))
        make_face()
    extrude(amount=NGULO_DE_EXTREMOS_REDONDEADOS_AL_I_A_23_DEPTH)

    # ngulo de extremos redondeados al i A 24
    split(bisect_by=Plane(origin=(-6.35, 193.675, 6.35), x_dir=(-1, 0, 0), z_dir=(0, 0.923879533, -0.382683432)), keep=Keep.TOP)

    # ngulo de extremos redondeados al i A 25
    split(bisect_by=Plane(origin=(-6.35, 514.731, -314.706), x_dir=(0, -0.923879533, -0.382683432), z_dir=(0, -0.382683432, 0.923879533)), keep=Keep.TOP)


with BuildPart() as body_8:
    # Sketch17 on segment 3 (carried to segment 3) → ngulo de extremos redondeados al i A 26 (new body)
    with BuildSketch(Plane(origin=(-6.35, 514.731, -276.508561211), x_dir=(1, 0, 0), z_dir=(0, 0, -1))):
        with BuildLine():
            Line((0, 0), (0, 63.5))
            Line((0, 63.5), (0.00508, 63.5))
            ThreePointArc((0.00508, 63.5), (2.246551928, 62.571551928), (3.175, 60.33008))
            Line((3.175, 60.33008), (3.175, 9.525))
            ThreePointArc((3.175, 9.525), (5.034871939, 5.034871939), (9.525, 3.175))
            Line((9.525, 3.175), (60.33008, 3.175))
            ThreePointArc((60.33008, 3.175), (62.571551928, 2.246551928), (63.5, 0.00508))
            Line((63.5, 0.00508), (63.5, 0))
            Line((63.5, 0), (0, 0))
        make_face()
    extrude(amount=NGULO_DE_EXTREMOS_REDONDEADOS_AL_I_A_26_DEPTH)

    # ngulo de extremos redondeados al i A 27
    split(bisect_by=Plane(origin=(-6.35, 514.731, -314.706), x_dir=(0, 0.923879533, 0.382683432), z_dir=(0, 0.382683432, -0.923879533)), keep=Keep.TOP)

    # ngulo de extremos redondeados al i A 28
    split(bisect_by=Plane(origin=(-6.35, 514.731, -755.65), x_dir=(-1, 0, 0), z_dir=(0, 0.707106781, 0.707106781)), keep=Keep.TOP)


with BuildPart() as body_9:
    # Sketch17 on segment 4 (carried to segment 4) → ngulo de extremos redondeados al i A 29 (new body)
    with BuildSketch(Plane(origin=(-6.35, 605.533561211, -755.65), x_dir=(1, 0, 0), z_dir=(0, -1, 0))):
        with BuildLine():
            Line((0, 0), (0, 63.5))
            Line((0, 63.5), (0.00508, 63.5))
            ThreePointArc((0.00508, 63.5), (2.246551928, 62.571551928), (3.175, 60.33008))
            Line((3.175, 60.33008), (3.175, 9.525))
            ThreePointArc((3.175, 9.525), (5.034871939, 5.034871939), (9.525, 3.175))
            Line((9.525, 3.175), (60.33008, 3.175))
            ThreePointArc((60.33008, 3.175), (62.571551928, 2.246551928), (63.5, 0.00508))
            Line((63.5, 0.00508), (63.5, 0))
            Line((63.5, 0), (0, 0))
        make_face()
    extrude(amount=NGULO_DE_EXTREMOS_REDONDEADOS_AL_I_A_29_DEPTH)

    # ngulo de extremos redondeados al i A 30
    split(bisect_by=Plane(origin=(-6.35, 514.731, -755.65), x_dir=(1, 0, 0), z_dir=(0, -0.707106781, -0.707106781)), keep=Keep.TOP)


with BuildPart() as body_10:
    # Croquis2 → Saliente-Extruir1 (new body)
    with BuildSketch(Plane(origin=(-3.175, 0, 0), x_dir=(0, 0, -1), z_dir=(1, 0, 0))):
        Polygon((-3.175, 192.359871939), (-3.175, 128.859871939), (1.5875, 128.859871939), (1.5875, 190.387179849), (45.093876651, 233.893556499), (41.726280605, 237.261152545), align=None)
    extrude(amount=SALIENTE_EXTRUIR1_DEPTH)


with BuildPart() as body_11:
    # Croquis2 → Saliente-Extruir1 2 (new body)
    with BuildSketch(Plane(origin=(-3.175, 0, 0), x_dir=(0, 0, -1), z_dir=(1, 0, 0))):
        Polygon((316.021128061, 511.556), (379.521128061, 511.556), (379.521128061, 506.7935), (317.993820151, 506.7935), (274.487443501, 463.287123349), (271.119847455, 466.654719395), align=None)
    extrude(amount=SALIENTE_EXTRUIR1_2_DEPTH)


with BuildPart() as body_12:
    # Sketch110 → ngulo de extremos redondeados al i A 31 (new body)
    with BuildSketch(Plane(origin=(0, 508.381, -749.3), x_dir=(0, -1, 0), z_dir=(-1, 0, 0))):
        with BuildLine():
            Line((0, 0), (0, 63.5))
            Line((0, 63.5), (0.00508, 63.5))
            ThreePointArc((0.00508, 63.5), (2.246551928, 62.571551928), (3.175, 60.33008))
            Line((3.175, 60.33008), (3.175, 9.525))
            ThreePointArc((3.175, 9.525), (5.034871939, 5.034871939), (9.525, 3.175))
            Line((9.525, 3.175), (60.33008, 3.175))
            ThreePointArc((60.33008, 3.175), (62.571551928, 2.246551928), (63.5, 0.00508))
            Line((63.5, 0.00508), (63.5, 0))
            Line((63.5, 0), (0, 0))
        make_face()
    extrude(amount=-NGULO_DE_EXTREMOS_REDONDEADOS_AL_I_A_31_DEPTH)


solid = Compound([part_1.part, body_2_2.part, body_3_2.part, body_4_2.part, body_5.part, body_6.part, body_7.part, body_8.part, body_9.part, body_10.part, body_11.part, body_12.part])
